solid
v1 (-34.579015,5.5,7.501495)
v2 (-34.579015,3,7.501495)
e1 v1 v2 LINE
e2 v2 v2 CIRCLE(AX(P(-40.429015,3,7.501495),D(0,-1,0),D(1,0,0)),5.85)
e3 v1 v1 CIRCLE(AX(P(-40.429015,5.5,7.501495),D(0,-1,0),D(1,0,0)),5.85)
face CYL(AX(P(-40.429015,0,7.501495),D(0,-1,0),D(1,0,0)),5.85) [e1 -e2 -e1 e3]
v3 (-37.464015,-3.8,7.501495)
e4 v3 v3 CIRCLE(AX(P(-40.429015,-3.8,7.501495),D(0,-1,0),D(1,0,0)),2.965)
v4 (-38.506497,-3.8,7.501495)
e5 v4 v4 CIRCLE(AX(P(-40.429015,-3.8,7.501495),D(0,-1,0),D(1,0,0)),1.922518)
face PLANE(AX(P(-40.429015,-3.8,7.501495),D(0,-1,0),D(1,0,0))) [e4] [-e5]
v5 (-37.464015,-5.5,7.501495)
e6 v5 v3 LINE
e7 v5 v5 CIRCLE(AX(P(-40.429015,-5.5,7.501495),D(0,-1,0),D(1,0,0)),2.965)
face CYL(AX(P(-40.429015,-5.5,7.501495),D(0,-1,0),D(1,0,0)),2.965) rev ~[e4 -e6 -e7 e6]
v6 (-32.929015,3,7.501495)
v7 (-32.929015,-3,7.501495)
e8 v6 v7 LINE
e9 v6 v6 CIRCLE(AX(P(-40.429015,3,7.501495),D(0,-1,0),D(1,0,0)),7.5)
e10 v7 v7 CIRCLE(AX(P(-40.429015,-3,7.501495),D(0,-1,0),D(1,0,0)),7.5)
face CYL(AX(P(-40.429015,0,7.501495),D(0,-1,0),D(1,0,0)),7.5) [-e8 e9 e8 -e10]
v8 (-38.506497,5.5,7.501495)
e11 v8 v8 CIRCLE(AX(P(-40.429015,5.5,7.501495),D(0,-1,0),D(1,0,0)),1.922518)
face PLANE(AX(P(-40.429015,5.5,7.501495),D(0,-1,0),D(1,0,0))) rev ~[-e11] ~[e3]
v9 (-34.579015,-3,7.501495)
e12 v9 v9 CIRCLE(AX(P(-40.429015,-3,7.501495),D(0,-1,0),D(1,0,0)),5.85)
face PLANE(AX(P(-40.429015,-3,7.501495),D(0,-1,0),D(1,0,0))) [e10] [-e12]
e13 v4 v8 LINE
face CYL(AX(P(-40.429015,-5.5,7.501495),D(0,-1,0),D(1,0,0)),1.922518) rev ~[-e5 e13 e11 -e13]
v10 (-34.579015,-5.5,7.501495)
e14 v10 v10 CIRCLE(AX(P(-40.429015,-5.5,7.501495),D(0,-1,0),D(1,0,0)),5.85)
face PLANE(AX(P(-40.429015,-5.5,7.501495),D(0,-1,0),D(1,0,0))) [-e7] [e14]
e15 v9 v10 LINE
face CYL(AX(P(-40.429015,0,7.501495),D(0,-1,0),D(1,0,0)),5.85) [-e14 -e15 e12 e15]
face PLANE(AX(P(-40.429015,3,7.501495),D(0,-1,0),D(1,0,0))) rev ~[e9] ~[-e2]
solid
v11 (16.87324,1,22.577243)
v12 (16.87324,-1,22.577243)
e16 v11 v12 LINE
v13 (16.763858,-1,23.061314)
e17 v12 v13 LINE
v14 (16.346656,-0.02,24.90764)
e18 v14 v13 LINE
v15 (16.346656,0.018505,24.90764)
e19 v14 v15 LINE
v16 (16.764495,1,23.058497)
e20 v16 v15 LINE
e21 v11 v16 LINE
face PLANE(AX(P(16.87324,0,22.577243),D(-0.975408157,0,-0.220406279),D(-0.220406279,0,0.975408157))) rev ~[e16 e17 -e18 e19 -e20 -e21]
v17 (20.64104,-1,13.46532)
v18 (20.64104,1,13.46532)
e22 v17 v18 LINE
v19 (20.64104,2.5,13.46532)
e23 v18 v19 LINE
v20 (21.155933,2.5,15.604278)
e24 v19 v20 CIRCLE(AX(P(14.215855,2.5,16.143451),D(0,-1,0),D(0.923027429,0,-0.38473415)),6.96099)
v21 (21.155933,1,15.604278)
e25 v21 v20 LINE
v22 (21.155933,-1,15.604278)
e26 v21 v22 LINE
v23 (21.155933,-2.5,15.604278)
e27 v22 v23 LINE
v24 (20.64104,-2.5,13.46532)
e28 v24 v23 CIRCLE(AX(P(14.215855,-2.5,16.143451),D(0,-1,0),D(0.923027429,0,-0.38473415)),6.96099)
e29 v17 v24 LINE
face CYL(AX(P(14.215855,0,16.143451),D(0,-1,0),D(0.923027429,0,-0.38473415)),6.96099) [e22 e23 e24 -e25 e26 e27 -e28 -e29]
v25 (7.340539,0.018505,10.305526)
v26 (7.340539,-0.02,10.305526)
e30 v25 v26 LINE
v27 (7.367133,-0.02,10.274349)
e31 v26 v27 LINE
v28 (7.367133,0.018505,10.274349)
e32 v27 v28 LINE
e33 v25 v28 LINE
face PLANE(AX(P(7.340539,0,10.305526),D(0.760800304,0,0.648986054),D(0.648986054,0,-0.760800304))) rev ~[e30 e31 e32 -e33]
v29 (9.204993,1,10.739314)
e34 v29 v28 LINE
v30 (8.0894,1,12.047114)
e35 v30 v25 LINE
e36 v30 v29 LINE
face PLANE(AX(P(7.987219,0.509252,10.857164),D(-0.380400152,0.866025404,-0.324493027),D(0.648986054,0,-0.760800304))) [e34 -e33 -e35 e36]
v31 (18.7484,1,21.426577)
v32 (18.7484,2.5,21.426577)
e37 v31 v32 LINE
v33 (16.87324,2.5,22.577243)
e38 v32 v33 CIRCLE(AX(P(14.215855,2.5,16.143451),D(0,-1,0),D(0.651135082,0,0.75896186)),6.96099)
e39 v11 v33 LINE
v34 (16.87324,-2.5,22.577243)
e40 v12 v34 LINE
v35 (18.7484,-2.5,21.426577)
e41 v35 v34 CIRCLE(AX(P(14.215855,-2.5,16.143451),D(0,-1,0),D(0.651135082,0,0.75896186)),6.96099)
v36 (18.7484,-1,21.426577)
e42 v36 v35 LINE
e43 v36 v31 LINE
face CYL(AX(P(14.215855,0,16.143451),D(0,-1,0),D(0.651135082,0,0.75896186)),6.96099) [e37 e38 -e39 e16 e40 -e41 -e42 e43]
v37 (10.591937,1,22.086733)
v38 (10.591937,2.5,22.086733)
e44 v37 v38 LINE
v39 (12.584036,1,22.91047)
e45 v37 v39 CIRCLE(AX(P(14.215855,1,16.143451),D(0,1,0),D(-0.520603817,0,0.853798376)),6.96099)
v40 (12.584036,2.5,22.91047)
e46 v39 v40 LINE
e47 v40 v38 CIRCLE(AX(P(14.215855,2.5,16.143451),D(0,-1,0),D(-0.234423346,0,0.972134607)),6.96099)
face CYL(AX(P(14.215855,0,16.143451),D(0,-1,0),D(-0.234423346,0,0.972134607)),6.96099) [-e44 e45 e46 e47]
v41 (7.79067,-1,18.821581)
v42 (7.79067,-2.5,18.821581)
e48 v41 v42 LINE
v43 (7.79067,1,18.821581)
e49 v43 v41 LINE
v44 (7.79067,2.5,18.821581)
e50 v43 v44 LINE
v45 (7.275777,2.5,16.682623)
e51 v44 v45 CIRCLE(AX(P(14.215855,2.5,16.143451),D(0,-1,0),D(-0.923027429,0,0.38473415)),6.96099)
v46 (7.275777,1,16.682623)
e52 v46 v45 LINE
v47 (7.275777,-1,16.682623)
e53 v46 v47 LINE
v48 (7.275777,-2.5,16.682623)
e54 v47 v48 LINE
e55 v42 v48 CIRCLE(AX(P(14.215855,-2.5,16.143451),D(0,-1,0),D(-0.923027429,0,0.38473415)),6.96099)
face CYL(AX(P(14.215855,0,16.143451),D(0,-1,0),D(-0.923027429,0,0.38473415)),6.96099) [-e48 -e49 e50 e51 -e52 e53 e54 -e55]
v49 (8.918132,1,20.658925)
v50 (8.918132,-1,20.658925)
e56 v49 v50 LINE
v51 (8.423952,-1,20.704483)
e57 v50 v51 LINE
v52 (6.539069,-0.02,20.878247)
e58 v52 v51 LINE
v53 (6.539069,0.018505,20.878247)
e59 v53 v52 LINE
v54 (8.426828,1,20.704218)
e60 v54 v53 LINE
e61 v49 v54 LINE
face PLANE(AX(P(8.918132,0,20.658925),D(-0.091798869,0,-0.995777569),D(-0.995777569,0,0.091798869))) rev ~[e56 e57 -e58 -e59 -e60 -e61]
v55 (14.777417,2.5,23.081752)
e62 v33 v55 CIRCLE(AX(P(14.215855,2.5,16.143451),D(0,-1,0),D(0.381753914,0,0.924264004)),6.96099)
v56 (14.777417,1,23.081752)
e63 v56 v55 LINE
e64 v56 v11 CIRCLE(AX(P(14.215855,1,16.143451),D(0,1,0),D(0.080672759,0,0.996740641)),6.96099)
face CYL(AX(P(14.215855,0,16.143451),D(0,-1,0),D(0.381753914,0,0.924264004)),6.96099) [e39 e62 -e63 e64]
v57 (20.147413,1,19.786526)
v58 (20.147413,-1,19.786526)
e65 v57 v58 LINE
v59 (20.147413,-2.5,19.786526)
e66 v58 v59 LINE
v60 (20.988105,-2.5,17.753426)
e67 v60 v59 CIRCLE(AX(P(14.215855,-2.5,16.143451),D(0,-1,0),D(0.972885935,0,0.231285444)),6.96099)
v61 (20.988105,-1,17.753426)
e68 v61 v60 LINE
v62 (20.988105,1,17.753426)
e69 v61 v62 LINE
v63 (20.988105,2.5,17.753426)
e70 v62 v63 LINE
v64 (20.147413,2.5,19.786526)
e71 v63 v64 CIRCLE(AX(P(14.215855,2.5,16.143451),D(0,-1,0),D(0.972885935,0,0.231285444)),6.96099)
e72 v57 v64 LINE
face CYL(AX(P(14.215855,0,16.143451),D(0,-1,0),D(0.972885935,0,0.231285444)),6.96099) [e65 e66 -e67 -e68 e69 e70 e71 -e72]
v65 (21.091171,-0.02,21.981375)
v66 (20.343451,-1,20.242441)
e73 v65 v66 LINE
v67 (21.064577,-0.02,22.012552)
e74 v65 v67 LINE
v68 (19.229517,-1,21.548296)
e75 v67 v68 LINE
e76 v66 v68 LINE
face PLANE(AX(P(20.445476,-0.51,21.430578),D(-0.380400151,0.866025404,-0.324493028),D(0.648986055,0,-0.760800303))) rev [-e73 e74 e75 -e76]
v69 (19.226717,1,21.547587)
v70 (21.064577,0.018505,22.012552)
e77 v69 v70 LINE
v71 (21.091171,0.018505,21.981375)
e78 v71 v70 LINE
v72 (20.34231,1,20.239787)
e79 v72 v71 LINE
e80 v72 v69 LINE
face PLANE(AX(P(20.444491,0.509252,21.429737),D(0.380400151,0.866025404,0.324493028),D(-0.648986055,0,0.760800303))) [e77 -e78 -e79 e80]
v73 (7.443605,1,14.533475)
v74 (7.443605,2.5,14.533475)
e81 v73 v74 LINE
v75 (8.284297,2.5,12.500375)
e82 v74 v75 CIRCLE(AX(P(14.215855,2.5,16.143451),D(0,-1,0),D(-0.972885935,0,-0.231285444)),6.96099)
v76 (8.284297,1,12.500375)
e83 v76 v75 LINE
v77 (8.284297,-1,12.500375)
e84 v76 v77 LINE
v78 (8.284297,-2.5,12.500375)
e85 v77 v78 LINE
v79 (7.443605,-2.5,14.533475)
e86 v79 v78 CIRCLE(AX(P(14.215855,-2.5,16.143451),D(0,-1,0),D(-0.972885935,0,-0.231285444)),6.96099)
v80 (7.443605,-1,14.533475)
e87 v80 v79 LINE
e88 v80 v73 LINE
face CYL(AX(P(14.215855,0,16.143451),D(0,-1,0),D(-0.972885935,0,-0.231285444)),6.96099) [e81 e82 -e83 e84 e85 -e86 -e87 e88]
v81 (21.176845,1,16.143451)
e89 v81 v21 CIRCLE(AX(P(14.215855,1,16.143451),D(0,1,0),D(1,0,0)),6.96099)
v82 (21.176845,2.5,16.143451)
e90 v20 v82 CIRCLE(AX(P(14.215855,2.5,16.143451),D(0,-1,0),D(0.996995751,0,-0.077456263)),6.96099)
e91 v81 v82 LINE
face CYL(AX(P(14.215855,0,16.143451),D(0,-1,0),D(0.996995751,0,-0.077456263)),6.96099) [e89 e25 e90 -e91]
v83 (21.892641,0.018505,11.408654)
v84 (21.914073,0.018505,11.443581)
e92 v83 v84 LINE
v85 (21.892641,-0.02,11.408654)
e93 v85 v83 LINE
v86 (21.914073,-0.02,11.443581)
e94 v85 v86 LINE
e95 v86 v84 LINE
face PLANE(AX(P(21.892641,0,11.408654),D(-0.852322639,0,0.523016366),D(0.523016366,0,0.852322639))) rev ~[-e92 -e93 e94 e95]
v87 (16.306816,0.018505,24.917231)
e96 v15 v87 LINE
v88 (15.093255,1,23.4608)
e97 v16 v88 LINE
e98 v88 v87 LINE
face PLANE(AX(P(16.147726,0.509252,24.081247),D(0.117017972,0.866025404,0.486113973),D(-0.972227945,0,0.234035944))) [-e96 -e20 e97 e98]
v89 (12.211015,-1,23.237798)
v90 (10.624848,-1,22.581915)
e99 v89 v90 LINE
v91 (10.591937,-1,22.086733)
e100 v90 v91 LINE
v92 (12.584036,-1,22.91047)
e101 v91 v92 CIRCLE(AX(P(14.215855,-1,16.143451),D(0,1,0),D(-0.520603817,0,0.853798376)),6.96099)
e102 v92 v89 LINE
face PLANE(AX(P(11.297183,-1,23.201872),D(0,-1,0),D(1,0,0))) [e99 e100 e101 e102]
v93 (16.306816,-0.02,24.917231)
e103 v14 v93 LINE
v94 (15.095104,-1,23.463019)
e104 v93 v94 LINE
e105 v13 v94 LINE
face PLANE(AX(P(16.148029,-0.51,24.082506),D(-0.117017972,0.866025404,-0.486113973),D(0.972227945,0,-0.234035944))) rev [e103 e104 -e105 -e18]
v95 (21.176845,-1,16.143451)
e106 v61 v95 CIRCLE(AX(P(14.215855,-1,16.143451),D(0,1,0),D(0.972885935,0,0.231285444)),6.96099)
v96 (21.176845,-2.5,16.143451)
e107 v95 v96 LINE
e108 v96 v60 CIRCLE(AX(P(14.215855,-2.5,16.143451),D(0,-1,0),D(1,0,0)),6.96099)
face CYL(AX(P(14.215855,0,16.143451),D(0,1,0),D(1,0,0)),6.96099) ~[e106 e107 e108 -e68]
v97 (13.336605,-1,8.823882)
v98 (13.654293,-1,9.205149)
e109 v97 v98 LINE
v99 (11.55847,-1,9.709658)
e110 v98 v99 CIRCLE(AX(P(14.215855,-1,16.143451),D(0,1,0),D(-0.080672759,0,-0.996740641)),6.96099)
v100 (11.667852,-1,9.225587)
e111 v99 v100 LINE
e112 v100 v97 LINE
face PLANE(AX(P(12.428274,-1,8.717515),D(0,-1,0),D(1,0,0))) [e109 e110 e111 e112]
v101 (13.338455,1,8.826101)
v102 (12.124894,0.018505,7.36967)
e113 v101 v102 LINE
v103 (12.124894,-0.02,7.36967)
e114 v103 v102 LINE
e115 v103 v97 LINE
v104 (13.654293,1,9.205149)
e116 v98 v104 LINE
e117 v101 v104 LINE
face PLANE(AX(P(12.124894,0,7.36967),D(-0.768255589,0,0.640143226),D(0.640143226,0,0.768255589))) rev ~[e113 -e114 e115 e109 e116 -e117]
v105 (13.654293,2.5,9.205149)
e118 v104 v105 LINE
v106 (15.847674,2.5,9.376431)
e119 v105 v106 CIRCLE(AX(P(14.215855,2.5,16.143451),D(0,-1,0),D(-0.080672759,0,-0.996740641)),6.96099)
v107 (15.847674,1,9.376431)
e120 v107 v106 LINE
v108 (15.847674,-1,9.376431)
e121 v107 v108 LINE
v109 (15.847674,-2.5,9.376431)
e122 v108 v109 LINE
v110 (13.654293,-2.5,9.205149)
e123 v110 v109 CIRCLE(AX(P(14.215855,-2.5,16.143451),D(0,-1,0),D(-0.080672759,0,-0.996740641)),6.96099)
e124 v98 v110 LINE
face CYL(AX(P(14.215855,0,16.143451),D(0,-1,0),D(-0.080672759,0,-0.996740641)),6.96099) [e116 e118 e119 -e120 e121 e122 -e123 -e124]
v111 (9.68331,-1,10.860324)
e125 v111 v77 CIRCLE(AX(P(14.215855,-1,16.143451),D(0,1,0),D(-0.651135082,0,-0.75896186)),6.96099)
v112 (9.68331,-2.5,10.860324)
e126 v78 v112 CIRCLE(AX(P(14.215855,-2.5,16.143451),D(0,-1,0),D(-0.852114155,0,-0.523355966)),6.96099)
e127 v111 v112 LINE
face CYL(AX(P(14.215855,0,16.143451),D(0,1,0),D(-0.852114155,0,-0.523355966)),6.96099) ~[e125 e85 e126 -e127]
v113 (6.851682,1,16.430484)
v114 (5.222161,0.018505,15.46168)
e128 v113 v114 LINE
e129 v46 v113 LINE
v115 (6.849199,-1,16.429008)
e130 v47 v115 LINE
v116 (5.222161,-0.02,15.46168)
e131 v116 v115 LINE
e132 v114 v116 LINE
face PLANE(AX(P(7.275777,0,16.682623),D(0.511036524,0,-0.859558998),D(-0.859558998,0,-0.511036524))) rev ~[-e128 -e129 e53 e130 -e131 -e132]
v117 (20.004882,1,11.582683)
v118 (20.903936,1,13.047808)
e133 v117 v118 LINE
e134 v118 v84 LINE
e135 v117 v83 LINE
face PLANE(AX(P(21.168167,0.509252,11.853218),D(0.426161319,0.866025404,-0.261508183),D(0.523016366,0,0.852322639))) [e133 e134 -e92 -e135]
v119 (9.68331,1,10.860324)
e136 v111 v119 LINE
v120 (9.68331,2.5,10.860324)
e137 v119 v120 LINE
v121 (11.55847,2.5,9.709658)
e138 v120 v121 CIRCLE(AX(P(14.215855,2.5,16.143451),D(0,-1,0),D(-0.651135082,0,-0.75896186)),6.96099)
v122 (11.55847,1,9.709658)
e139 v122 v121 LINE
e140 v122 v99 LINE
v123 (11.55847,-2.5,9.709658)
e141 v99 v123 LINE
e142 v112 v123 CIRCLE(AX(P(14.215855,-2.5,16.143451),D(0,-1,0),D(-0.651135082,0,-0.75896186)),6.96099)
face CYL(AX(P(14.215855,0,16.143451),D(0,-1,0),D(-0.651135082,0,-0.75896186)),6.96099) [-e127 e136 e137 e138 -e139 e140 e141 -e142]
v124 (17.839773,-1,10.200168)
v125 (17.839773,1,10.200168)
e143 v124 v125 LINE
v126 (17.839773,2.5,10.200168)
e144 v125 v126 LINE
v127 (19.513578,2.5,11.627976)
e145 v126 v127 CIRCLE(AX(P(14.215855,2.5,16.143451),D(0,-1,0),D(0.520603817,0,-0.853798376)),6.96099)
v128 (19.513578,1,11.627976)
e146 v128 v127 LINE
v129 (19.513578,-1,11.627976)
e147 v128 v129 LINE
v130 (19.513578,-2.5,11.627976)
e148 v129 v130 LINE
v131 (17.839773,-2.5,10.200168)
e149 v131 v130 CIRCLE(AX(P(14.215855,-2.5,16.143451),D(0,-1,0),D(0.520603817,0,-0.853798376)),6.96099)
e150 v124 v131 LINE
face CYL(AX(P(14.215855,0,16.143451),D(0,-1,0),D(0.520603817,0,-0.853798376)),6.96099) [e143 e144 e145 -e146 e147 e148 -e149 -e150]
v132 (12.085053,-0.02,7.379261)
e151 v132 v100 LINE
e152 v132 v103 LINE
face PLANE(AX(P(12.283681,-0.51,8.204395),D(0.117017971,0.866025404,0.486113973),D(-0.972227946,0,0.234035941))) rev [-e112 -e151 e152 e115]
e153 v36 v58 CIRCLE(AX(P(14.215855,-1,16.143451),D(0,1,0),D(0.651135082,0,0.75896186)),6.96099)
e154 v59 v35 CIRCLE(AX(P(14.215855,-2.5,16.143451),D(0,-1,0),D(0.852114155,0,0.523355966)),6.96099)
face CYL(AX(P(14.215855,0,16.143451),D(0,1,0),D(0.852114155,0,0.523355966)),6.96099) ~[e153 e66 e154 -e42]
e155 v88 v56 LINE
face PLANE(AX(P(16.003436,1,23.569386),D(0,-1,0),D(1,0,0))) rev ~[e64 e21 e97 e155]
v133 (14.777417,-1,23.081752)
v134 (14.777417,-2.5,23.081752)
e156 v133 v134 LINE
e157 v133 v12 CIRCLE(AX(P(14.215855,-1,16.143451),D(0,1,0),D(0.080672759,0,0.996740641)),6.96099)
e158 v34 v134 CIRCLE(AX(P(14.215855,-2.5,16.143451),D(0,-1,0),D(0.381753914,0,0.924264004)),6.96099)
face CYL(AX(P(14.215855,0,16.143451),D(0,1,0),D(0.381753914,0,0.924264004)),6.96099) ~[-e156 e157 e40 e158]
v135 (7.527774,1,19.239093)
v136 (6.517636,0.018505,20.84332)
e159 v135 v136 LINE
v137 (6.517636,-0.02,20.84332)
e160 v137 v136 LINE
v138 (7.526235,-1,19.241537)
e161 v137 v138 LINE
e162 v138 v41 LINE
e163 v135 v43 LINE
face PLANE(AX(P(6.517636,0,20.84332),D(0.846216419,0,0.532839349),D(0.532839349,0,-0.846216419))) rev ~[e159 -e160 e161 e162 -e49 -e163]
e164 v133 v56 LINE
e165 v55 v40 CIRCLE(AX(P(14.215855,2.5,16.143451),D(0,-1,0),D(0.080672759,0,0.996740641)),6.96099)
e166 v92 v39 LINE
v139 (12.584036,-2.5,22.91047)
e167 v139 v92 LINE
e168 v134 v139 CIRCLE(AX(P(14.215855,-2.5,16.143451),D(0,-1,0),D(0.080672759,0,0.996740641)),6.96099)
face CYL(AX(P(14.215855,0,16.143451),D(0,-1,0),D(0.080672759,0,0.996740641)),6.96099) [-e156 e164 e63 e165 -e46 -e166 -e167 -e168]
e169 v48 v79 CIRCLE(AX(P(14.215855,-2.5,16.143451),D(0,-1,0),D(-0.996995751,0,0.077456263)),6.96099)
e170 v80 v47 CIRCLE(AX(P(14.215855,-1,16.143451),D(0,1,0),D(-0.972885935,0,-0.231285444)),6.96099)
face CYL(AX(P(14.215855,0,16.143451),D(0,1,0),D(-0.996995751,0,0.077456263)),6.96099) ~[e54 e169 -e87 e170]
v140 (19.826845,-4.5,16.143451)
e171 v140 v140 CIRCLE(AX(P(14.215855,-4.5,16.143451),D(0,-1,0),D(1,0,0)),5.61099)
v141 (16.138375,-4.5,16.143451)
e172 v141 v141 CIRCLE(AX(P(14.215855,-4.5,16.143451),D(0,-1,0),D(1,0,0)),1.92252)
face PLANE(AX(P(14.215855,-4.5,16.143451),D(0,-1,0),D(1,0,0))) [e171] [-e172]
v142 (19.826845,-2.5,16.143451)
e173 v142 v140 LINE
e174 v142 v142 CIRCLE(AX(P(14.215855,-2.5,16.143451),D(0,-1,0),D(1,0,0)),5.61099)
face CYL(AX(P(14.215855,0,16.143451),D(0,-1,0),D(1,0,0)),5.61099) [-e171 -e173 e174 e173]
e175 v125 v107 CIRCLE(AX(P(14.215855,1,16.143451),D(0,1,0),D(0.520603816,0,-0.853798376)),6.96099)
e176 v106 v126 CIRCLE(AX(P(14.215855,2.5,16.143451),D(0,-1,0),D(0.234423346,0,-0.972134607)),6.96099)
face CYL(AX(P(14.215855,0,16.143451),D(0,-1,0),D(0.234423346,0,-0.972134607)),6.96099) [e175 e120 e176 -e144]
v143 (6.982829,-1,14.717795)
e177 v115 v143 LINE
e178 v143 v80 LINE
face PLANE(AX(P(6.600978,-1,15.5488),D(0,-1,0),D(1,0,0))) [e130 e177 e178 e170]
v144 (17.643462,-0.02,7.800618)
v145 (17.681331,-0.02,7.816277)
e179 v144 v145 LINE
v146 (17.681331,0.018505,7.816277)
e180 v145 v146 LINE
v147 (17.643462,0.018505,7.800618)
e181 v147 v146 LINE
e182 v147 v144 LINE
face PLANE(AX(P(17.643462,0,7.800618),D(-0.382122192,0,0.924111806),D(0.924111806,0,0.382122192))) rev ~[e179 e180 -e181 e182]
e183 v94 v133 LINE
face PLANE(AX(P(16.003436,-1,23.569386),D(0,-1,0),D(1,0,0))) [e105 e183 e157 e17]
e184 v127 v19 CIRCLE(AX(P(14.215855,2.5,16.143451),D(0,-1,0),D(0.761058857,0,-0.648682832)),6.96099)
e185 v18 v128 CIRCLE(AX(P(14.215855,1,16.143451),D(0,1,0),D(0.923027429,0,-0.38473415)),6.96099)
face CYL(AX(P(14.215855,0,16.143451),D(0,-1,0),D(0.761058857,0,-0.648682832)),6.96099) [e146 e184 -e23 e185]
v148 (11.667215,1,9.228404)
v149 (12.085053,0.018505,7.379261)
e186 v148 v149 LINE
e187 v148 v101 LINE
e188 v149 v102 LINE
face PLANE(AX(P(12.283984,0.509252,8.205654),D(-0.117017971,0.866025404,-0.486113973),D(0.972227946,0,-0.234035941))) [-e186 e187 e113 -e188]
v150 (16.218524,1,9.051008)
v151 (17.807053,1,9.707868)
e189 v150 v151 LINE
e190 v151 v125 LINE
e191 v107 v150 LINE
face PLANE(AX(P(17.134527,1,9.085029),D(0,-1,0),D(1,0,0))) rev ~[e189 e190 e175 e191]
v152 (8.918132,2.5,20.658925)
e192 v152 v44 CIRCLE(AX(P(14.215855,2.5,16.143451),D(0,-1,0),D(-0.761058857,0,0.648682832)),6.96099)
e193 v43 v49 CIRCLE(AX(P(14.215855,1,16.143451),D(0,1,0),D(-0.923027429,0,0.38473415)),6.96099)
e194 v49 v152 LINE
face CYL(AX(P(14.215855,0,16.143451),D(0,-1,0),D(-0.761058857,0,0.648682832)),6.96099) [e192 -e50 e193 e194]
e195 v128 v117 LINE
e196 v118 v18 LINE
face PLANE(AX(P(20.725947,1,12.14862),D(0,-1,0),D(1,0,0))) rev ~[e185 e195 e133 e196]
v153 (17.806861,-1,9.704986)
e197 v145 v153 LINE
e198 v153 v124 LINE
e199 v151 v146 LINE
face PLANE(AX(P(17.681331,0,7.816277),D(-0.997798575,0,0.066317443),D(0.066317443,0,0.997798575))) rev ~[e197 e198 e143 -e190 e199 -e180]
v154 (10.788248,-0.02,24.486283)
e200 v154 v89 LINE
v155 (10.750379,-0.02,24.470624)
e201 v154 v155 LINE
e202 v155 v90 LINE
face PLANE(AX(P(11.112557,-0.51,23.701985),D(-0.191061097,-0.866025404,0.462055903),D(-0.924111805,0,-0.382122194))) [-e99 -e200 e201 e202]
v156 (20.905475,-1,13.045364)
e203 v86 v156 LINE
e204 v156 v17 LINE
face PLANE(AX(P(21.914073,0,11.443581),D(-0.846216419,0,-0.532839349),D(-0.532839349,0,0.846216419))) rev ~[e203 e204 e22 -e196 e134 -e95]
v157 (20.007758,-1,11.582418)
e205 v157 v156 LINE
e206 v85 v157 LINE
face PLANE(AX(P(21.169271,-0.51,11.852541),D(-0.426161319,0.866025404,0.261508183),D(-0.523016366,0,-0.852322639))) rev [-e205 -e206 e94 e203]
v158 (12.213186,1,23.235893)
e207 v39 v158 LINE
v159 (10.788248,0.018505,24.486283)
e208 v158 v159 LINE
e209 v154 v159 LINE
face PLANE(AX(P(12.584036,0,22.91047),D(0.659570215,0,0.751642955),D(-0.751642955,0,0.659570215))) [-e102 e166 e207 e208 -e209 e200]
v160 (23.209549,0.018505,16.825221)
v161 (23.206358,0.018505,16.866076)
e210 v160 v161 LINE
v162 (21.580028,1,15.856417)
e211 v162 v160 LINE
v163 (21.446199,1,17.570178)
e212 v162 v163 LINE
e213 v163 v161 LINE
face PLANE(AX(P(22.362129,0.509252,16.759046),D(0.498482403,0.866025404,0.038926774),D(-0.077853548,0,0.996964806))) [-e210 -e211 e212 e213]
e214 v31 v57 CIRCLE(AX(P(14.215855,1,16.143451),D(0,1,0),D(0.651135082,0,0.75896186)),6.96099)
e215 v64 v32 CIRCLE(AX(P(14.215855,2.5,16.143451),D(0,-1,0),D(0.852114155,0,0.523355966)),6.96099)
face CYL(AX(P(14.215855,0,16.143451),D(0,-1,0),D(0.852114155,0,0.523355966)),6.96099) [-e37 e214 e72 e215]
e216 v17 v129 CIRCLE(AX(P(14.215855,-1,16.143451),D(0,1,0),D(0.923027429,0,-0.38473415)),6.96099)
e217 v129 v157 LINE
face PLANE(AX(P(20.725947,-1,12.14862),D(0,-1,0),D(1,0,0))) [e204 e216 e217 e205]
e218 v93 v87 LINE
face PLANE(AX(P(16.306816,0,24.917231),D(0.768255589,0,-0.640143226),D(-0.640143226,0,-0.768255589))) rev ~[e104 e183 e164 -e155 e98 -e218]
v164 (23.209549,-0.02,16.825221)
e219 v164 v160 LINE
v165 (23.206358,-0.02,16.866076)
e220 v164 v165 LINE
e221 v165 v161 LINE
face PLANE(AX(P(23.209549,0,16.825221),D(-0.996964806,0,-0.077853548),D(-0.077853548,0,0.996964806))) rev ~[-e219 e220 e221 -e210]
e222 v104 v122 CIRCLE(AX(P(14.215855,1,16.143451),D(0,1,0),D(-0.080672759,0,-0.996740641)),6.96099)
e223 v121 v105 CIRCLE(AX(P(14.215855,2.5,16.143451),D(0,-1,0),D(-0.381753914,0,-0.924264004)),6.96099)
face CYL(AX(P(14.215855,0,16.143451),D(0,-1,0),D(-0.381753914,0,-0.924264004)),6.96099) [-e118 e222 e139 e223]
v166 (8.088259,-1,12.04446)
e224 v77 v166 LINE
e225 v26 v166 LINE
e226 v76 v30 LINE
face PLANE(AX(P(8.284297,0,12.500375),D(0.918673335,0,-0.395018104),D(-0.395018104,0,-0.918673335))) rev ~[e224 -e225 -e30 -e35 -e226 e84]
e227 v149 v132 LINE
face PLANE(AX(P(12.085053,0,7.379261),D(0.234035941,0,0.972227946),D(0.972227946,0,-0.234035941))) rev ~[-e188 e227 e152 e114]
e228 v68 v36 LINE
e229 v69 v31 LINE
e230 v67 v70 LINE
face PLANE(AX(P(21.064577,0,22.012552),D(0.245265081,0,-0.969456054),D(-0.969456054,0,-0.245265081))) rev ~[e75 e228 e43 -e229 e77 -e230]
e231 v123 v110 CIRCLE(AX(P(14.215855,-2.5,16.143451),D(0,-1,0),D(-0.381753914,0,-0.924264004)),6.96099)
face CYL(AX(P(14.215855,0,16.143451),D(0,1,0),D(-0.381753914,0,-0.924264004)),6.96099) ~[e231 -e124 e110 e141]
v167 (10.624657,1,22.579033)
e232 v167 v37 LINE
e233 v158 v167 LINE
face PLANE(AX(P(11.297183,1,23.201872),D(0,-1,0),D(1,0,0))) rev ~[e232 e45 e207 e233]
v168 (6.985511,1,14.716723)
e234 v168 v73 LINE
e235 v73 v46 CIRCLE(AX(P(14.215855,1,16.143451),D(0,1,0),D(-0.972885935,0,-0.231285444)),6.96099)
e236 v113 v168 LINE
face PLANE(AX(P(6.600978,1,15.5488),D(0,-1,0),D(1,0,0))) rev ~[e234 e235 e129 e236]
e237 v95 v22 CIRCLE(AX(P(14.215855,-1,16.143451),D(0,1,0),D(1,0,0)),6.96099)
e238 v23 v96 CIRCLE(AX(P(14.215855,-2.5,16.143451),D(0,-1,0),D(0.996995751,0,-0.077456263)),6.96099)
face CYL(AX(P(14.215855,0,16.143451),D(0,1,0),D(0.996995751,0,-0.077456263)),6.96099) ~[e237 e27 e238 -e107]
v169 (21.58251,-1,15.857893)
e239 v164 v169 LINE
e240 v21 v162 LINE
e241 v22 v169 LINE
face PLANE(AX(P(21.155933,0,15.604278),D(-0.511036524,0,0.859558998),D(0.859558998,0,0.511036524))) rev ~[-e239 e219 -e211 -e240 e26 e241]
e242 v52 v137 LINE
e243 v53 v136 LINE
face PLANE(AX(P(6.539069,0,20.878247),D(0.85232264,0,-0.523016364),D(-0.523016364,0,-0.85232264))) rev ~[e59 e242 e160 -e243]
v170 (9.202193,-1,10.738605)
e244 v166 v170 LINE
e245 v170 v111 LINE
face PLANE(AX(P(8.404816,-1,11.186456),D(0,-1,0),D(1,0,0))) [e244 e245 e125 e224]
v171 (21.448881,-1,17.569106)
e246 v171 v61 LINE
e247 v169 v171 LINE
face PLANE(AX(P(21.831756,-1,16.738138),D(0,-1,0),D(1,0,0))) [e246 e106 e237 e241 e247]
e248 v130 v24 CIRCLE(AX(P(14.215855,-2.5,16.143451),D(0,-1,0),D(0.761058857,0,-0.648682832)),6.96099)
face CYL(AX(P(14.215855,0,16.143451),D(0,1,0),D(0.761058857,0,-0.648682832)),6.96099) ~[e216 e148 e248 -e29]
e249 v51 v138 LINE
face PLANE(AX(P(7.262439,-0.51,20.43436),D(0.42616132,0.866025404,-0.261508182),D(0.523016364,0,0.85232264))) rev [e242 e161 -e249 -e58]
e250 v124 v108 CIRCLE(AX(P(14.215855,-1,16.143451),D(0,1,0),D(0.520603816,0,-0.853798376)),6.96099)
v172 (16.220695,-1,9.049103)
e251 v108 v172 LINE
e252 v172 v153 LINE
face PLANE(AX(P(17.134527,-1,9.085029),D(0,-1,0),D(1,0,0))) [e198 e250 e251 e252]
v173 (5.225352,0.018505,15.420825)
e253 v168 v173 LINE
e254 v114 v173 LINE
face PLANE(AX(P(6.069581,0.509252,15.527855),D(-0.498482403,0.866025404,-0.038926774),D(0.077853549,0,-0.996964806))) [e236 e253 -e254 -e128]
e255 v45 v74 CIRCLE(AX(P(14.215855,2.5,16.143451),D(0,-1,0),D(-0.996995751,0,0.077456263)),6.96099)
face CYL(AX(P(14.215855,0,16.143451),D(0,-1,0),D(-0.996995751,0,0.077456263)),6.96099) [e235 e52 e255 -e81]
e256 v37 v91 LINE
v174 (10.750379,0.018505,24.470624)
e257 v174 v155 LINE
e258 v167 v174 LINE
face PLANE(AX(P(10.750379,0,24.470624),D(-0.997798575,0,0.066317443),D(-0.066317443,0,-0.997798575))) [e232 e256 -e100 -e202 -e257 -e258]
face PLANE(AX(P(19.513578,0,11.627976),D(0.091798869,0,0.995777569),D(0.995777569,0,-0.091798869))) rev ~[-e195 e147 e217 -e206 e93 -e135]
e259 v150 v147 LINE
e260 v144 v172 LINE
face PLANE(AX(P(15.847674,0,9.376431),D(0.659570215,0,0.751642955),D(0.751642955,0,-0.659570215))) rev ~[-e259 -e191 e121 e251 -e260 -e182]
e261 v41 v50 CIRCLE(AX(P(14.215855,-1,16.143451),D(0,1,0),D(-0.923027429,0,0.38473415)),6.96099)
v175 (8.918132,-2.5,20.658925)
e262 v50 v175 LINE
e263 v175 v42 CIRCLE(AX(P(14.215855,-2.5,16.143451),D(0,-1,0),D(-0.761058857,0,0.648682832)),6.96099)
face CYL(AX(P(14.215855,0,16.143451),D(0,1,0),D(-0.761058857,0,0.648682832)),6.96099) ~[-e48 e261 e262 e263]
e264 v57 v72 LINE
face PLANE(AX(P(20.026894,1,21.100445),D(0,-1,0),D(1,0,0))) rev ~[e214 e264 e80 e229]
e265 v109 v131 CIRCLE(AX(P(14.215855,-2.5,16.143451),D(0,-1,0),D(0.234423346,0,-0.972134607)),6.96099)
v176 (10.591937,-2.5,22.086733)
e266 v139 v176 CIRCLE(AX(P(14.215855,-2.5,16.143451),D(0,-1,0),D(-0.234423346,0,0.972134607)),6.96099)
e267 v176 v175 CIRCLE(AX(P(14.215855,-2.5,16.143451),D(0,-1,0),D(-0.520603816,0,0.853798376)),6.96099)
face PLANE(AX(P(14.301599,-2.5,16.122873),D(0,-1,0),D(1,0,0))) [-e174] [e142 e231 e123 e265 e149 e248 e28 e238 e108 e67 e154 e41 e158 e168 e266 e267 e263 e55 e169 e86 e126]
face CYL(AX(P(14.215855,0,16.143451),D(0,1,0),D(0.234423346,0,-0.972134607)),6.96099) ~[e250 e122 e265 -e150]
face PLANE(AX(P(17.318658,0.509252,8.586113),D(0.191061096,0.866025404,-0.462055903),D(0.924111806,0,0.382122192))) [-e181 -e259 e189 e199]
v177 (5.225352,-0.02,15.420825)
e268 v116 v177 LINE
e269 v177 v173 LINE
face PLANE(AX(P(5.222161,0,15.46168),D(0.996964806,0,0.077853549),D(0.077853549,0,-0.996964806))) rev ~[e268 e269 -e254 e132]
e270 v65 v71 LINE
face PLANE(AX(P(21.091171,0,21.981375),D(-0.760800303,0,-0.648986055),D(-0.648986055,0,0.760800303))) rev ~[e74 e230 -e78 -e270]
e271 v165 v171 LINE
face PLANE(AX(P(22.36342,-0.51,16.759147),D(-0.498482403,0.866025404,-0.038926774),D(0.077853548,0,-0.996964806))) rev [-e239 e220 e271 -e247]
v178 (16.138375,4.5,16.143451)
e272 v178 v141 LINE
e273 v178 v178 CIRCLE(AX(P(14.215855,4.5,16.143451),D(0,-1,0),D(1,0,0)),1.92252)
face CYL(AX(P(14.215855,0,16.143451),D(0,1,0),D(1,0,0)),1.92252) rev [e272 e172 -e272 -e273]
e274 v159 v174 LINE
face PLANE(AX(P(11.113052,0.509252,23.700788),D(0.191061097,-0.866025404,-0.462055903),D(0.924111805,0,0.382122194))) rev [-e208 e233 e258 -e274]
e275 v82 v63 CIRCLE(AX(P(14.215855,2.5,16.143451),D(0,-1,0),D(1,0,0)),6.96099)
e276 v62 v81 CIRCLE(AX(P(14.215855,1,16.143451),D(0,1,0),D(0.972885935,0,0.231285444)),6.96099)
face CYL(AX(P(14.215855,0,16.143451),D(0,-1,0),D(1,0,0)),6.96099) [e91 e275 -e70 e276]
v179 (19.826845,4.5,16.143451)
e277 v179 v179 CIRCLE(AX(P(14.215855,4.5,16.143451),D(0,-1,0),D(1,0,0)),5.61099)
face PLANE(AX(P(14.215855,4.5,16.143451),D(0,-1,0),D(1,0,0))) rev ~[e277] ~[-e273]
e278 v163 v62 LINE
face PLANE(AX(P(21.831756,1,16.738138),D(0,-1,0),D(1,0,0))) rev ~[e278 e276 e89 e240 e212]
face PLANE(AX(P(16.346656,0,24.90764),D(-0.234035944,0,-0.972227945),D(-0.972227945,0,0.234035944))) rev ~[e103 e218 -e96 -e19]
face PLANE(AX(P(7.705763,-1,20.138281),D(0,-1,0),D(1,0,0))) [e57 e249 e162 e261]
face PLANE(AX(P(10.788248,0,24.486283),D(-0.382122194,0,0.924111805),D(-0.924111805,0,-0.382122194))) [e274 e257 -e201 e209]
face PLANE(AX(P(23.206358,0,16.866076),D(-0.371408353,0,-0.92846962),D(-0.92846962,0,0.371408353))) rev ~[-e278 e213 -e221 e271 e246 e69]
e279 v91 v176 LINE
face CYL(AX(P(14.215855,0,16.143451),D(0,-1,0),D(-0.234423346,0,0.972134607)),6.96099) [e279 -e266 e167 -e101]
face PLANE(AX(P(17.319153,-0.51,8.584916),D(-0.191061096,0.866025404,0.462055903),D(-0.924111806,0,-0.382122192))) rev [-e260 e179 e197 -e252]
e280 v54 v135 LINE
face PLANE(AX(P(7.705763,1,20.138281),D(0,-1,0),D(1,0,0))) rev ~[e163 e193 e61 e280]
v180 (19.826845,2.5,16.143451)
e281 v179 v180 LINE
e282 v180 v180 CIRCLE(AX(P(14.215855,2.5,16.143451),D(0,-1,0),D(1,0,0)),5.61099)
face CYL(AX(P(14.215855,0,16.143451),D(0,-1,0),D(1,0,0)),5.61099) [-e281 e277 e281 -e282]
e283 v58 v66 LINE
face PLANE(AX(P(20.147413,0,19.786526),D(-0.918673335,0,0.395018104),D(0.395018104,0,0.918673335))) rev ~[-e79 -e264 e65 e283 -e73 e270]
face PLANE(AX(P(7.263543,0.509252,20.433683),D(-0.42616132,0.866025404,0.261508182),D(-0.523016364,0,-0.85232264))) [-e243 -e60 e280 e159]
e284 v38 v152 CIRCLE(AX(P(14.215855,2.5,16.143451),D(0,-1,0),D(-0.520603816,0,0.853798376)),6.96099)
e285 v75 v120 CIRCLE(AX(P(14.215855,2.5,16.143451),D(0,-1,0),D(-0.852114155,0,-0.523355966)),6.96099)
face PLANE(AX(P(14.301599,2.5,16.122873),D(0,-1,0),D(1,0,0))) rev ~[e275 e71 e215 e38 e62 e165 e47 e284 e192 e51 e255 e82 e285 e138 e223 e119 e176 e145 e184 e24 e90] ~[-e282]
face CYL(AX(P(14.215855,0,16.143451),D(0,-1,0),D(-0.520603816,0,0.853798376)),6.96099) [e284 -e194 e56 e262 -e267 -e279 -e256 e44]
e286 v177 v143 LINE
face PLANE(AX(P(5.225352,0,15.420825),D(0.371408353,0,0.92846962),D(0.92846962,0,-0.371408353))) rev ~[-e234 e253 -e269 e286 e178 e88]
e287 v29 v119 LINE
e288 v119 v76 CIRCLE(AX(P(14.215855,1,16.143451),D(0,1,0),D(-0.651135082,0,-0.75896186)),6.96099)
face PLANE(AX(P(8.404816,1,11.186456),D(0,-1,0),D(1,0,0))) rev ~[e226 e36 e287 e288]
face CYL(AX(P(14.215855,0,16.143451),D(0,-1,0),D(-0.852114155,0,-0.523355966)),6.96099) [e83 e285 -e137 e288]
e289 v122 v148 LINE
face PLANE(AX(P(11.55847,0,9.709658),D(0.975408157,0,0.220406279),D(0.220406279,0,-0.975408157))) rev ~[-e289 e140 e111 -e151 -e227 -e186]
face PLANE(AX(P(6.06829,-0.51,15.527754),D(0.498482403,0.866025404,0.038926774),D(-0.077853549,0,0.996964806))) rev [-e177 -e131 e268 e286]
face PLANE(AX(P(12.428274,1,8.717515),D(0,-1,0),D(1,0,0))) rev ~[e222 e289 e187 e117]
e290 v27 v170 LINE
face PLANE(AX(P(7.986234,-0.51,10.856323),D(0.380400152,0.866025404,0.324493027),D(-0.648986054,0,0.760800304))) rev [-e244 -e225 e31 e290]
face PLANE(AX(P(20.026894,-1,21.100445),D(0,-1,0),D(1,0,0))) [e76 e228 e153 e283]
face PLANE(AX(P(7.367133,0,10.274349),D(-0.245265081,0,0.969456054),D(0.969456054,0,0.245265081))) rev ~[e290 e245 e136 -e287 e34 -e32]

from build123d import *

# Parameters (mm, degrees)
F0_R         = 5.85
F1_DEPTH     = 5.5
F0_R_2       = 7.5
F2_DEPTH     = 3
F3_R         = 1.9225179896
F4_DEPTH     = 25
F3_R_2       = 2.965
F5_DEPTH     = 1.7
F6_R         = 5.61099
F6_R_2       = 1.92252
F7_DEPTH     = 2.5
F8_DEPTH     = 1
F9_DEPTH     = 4.5
F10_SIZE2    = 1.6974097914
F10_SIZE     = 0.98
F10_2_SIZE2  = 1.6974097914
F10_2_SIZE   = 0.98
F10_3_SIZE2  = 1.6974097914
F10_3_SIZE   = 0.98
F10_4_SIZE2  = 1.6974097914
F10_4_SIZE   = 0.98
F10_5_SIZE2  = 1.6974097914
F10_5_SIZE   = 0.98
F10_6_SIZE2  = 1.6974097914
F10_6_SIZE   = 0.98
F10_7_SIZE2  = 1.6974097914
F10_7_SIZE   = 0.98
F10_8_SIZE2  = 1.6974097914
F10_8_SIZE   = 0.98
F10_9_SIZE2  = 1.6974097914
F10_9_SIZE   = 0.98
F10_10_SIZE2 = 1.6974097914
F10_10_SIZE  = 0.98
F11_SIZE2    = 0.9814954576
F11_SIZE     = 1.7
F11_2_SIZE2  = 0.9814954576
F11_2_SIZE   = 1.7
F11_3_SIZE2  = 0.9814954576
F11_3_SIZE   = 1.7
F11_4_SIZE2  = 0.9814954576
F11_4_SIZE   = 1.7
F11_5_SIZE2  = 0.9814954576
F11_5_SIZE   = 1.7
F11_6_SIZE2  = 0.9814954576
F11_6_SIZE   = 1.7
F11_7_SIZE2  = 0.9814954576
F11_7_SIZE   = 1.7
F11_8_SIZE2  = 0.9814954576
F11_8_SIZE   = 1.7
F11_9_SIZE2  = 0.9814954576
F11_9_SIZE   = 1.7
F11_10_SIZE2 = 0.9814954576
F11_10_SIZE  = 1.7


with BuildPart() as f1:
    # F0 (on Front) → F1 (new body, symmetric)
    with BuildSketch(Plane.XZ):
        with Locations((-40.4290147126, 7.5014946051)):
            Circle(F0_R)
    extrude(amount=F1_DEPTH, both=True)

    # F0 (on Front) → F2 (join, symmetric)
    with BuildSketch(Plane.XZ):
        with Locations((-40.4290147126, 7.5014946051)):
            Circle(F0_R_2)
        with Locations((-40.4290147126, 7.5014946051)):
            Circle(F0_R, mode=Mode.SUBTRACT)
    extrude(amount=F2_DEPTH, both=True)

    # F3 (on face) → F4 (cut)
    with BuildSketch(Plane.XZ.offset(5.5)):
        with Locations((-40.4290147126, 7.5014946051)):
            Circle(F3_R)
    extrude(amount=-F4_DEPTH, mode=Mode.SUBTRACT)

    # F3 (on face) → F5 (cut)
    with BuildSketch(Plane.XZ.offset(5.5)):
        with Locations((-40.4290147126, 7.5014946051)):
            Circle(F3_R_2)
        with Locations((-40.4290147126, 7.5014946051)):
            Circle(F3_R, mode=Mode.SUBTRACT)
    extrude(amount=-F5_DEPTH, mode=Mode.SUBTRACT)


with BuildPart() as f7:
    # F6 (on Front) → F7 (new body, symmetric)
    with BuildSketch(Plane.XZ):
        with BuildLine():
            ThreePointArc((12.5840362785, 22.9104701209), (11.5559060371, 22.5761838649), (10.5919367916, 22.0867327559))
            Line((10.5919367916, 22.0867327559), (10.4874240314, 20.5142553084))
            Line((10.4874240314, 20.5142553084), (8.9181315816, 20.6589254406))
            ThreePointArc((8.9181315816, 20.6589254406), (8.2828452752, 19.7841623852), (7.7906699171, 18.821581214))
            ThreePointArc((7.7906699171, 18.821581214), (7.4481855965, 17.7725724525), (7.27577714, 16.6826228135))
            ThreePointArc((7.27577714, 16.6826228135), (7.275992545, 15.6015127137), (7.4436053327, 14.5334747707))
            Line((7.4436053327, 14.5334747707), (8.9068240369, 13.9481549745))
            Line((8.9068240369, 13.9481549745), (8.2842965288, 12.5003746936))
            ThreePointArc((8.2842965288, 12.5003746936), (8.9199313679, 11.625864862), (9.6833099134, 10.8603243402))
            Line((9.6833099134, 10.8603243402), (11.2111210556, 11.2468490531))
            Line((11.2111210556, 11.2468490531), (11.5584696198, 9.7096577133))
            ThreePointArc((11.5584696198, 9.7096577133), (12.5867329888, 9.3757811821), (13.654292634, 9.205148541))
            Line((13.654292634, 9.205148541), (14.6631242865, 10.4158784601))
            Line((14.6631242865, 10.4158784601), (15.8476735773, 9.3764309061))
            ThreePointArc((15.8476735773, 9.3764309061), (16.8758038187, 9.7107171621), (17.8397730642, 10.200168271))
            Line((17.8397730642, 10.200168271), (17.9442858244, 11.7726457186))
            Line((17.9442858244, 11.7726457186), (19.5135782742, 11.6279755863))
            ThreePointArc((19.5135782742, 11.6279755863), (20.1488645806, 12.5027386418), (20.6410399387, 13.465319813))
            Line((20.6410399387, 13.465319813), (19.8013134846, 14.7989118505))
            Line((19.8013134846, 14.7989118505), (21.1559327158, 15.6042782134))
            ThreePointArc((21.1559327158, 15.6042782134), (21.1716151628, 15.8736616591), (21.1768452649, 16.1434505135))
            ThreePointArc((21.1768452649, 16.1434505135), (21.1294990634, 16.9539511242), (20.9881045231, 17.7534262562))
            Line((20.9881045231, 17.7534262562), (19.5248858189, 18.3387460525))
            Line((19.5248858189, 18.3387460525), (20.147413327, 19.7865263334))
            ThreePointArc((20.147413327, 19.7865263334), (19.5117784879, 20.661036165), (18.7483999424, 21.4265766868))
            Line((18.7483999424, 21.4265766868), (17.2205888002, 21.0400519739))
            Line((17.2205888002, 21.0400519739), (16.873240236, 22.5772433137))
            ThreePointArc((16.873240236, 22.5772433137), (15.8449768669, 22.9111198449), (14.7774172217, 23.081752486))
            Line((14.7774172217, 23.081752486), (13.7685855693, 21.8710225668))
            Line((13.7685855693, 21.8710225668), (12.5840362785, 22.9104701209))
        make_face()
        with Locations((14.2158549279, 16.1434505135)):
            Circle(F6_R, mode=Mode.SUBTRACT)
        with Locations((14.2158549279, 16.1434505135)):
            Circle(F6_R)
        with Locations((14.2158549279, 16.1434505135)):
            Circle(F6_R_2, mode=Mode.SUBTRACT)
        with BuildLine():
            Line((8.9068240369, 13.9481549745), (7.4436053327, 14.5334747707))
            ThreePointArc((7.4436053327, 14.5334747707), (7.7831215765, 13.4835016227), (8.2842965288, 12.5003746936))
            Line((8.2842965288, 12.5003746936), (8.9068240369, 13.9481549745))
        make_face()
        with BuildLine():
            Line((10.4874240314, 20.5142553084), (10.5919367916, 22.0867327559))
            ThreePointArc((10.5919367916, 22.0867327559), (9.6982692764, 21.4393740735), (8.9181315816, 20.6589254406))
            Line((8.9181315816, 20.6589254406), (10.4874240314, 20.5142553084))
        make_face()
        with BuildLine():
            ThreePointArc((14.7774172217, 23.081752486), (13.6739171282, 23.0833128963), (12.5840362785, 22.9104701209))
            Line((12.5840362785, 22.9104701209), (13.7685855693, 21.8710225668))
            Line((13.7685855693, 21.8710225668), (14.7774172217, 23.081752486))
        make_face()
        with BuildLine():
            ThreePointArc((18.7483999424, 21.4265766868), (17.8565667996, 22.0764601662), (16.873240236, 22.5772433137))
            Line((16.873240236, 22.5772433137), (17.2205888002, 21.0400519739))
            Line((17.2205888002, 21.0400519739), (18.7483999424, 21.4265766868))
        make_face()
        with BuildLine():
            ThreePointArc((20.9881045231, 17.7534262562), (20.6485882793, 18.8033994043), (20.147413327, 19.7865263334))
            Line((20.147413327, 19.7865263334), (19.5248858189, 18.3387460525))
            Line((19.5248858189, 18.3387460525), (20.9881045231, 17.7534262562))
        make_face()
        with BuildLine():
            ThreePointArc((20.6410399387, 13.465319813), (20.9835242593, 14.5143285744), (21.1559327158, 15.6042782134))
            Line((21.1559327158, 15.6042782134), (19.8013134846, 14.7989118505))
            Line((19.8013134846, 14.7989118505), (20.6410399387, 13.465319813))
        make_face()
        with BuildLine():
            ThreePointArc((17.8397730642, 10.200168271), (18.7334405794, 10.8475269535), (19.5135782742, 11.6279755863))
            Line((19.5135782742, 11.6279755863), (17.9442858244, 11.7726457186))
            Line((17.9442858244, 11.7726457186), (17.8397730642, 10.200168271))
        make_face()
        with BuildLine():
            Line((14.6631242865, 10.4158784601), (13.654292634, 9.205148541))
            ThreePointArc((13.654292634, 9.205148541), (14.7577927276, 9.2035881306), (15.8476735773, 9.3764309061))
            Line((15.8476735773, 9.3764309061), (14.6631242865, 10.4158784601))
        make_face()
        with BuildLine():
            Line((11.2111210556, 11.2468490531), (9.6833099134, 10.8603243402))
            ThreePointArc((9.6833099134, 10.8603243402), (10.5751430562, 10.2104408608), (11.5584696198, 9.7096577133))
            Line((11.5584696198, 9.7096577133), (11.2111210556, 11.2468490531))
        make_face()
    extrude(amount=F7_DEPTH, both=True)

    # F6 (on Front) → F8 (join, symmetric)
    with BuildSketch(Plane.XZ):
        with BuildLine():
            ThreePointArc((7.4436053327, 14.5334747707), (7.275992545, 15.6015127137), (7.27577714, 16.6826228135))
            Line((7.27577714, 16.6826228135), (5.2221611807, 15.4616795566))
            Line((5.2221611807, 15.4616795566), (5.2253515138, 15.4208252875))
            Line((5.2253515138, 15.4208252875), (7.4436053327, 14.5334747707))
        make_face()
        with BuildLine():
            ThreePointArc((7.7906699171, 18.821581214), (8.2828452752, 19.7841623852), (8.9181315816, 20.6589254406))
            Line((8.9181315816, 20.6589254406), (6.5390689303, 20.8782467714))
            Line((6.5390689303, 20.8782467714), (6.5176364272, 20.8433197426))
            Line((6.5176364272, 20.8433197426), (7.7906699171, 18.821581214))
        make_face()
        with BuildLine():
            ThreePointArc((9.6833099134, 10.8603243402), (8.9199313679, 11.625864862), (8.2842965288, 12.5003746936))
            Line((8.2842965288, 12.5003746936), (7.3405387581, 10.3055256749))
            Line((7.3405387581, 10.3055256749), (7.3671333287, 10.2743491076))
            Line((7.3671333287, 10.2743491076), (9.6833099134, 10.8603243402))
        make_face()
        with BuildLine():
            ThreePointArc((13.654292634, 9.205148541), (12.5867329888, 9.3757811821), (11.5584696198, 9.7096577133))
            Line((11.5584696198, 9.7096577133), (12.0850534289, 7.3792606577))
            Line((12.0850534289, 7.3792606577), (12.124894015, 7.3696701814))
            Line((12.124894015, 7.3696701814), (13.654292634, 9.205148541))
        make_face()
        with BuildLine():
            ThreePointArc((17.8397730642, 10.200168271), (16.8758038187, 9.7107171621), (15.8476735773, 9.3764309061))
            Line((15.8476735773, 9.3764309061), (17.6434618491, 7.8006182816))
            Line((17.6434618491, 7.8006182816), (17.6813307008, 7.8162771321))
            Line((17.6813307008, 7.8162771321), (17.8397730642, 10.200168271))
        make_face()
        with BuildLine():
            Line((21.9140734286, 11.4435812844), (20.6410399387, 13.465319813))
            ThreePointArc((20.6410399387, 13.465319813), (20.1488645806, 12.5027386418), (19.5135782742, 11.6279755863))
            Line((19.5135782742, 11.6279755863), (21.8926409254, 11.4086542556))
            Line((21.8926409254, 11.4086542556), (21.9140734286, 11.4435812844))
        make_face()
        with BuildLine():
            Line((23.206358342, 16.8660757395), (20.9881045231, 17.7534262562))
            ThreePointArc((20.9881045231, 17.7534262562), (21.1294990634, 16.9539511242), (21.1768452649, 16.1434505135))
            ThreePointArc((21.1768452649, 16.1434505135), (21.1716151628, 15.8736616591), (21.1559327158, 15.6042782134))
            Line((21.1559327158, 15.6042782134), (23.2095486751, 16.8252214703))
            Line((23.2095486751, 16.8252214703), (23.206358342, 16.8660757395))
        make_face()
        with BuildLine():
            Line((21.0645765271, 22.0125519193), (18.7483999424, 21.4265766868))
            ThreePointArc((18.7483999424, 21.4265766868), (19.5117784879, 20.661036165), (20.147413327, 19.7865263334))
            Line((20.147413327, 19.7865263334), (21.0911710977, 21.9813753521))
            Line((21.0911710977, 21.9813753521), (21.0645765271, 22.0125519193))
        make_face()
        with BuildLine():
            Line((16.3068158408, 24.9172308456), (14.7774172217, 23.081752486))
            ThreePointArc((14.7774172217, 23.081752486), (15.8449768669, 22.9111198449), (16.873240236, 22.5772433137))
            Line((16.873240236, 22.5772433137), (16.3466564269, 24.9076403692))
            Line((16.3466564269, 24.9076403692), (16.3068158408, 24.9172308456))
        make_face()
        with BuildLine():
            Line((10.7882480067, 24.4862827454), (10.750379155, 24.4706238948))
            Line((10.750379155, 24.4706238948), (10.5919367916, 22.0867327559))
            ThreePointArc((10.5919367916, 22.0867327559), (11.5559060371, 22.5761838649), (12.5840362785, 22.9104701209))
            Line((12.5840362785, 22.9104701209), (10.7882480067, 24.4862827454))
        make_face()
    extrude(amount=F8_DEPTH, both=True)

    # F6 (on Front) → F9 (join, symmetric)
    with BuildSketch(Plane.XZ):
        with Locations((14.2158549279, 16.1434505135)):
            Circle(F6_R)
        with Locations((14.2158549279, 16.1434505135)):
            Circle(F6_R_2, mode=Mode.SUBTRACT)
    extrude(amount=F9_DEPTH, both=True)

    # F10
    f10_edges = [f7.edges().sort_by_distance(p)[0] for p in [
        (21.903357, -1, 11.426118),
    ]]
    f10_side = f7.faces().sort_by_distance((21.903357, 0, 11.426118))[0]
    chamfer(f10_edges, length=F10_SIZE, length2=F10_SIZE2, reference=f10_side)

    # F10#2
    f10_2_edges = [f7.edges().sort_by_distance(p)[0] for p in [
        (17.662396, -1, 7.808448),
    ]]
    f10_2_side = f7.faces().sort_by_distance((17.662396, 0, 7.808448))[0]
    chamfer(f10_2_edges, length=F10_2_SIZE, length2=F10_2_SIZE2, reference=f10_2_side)

    # F10#3
    f10_3_edges = [f7.edges().sort_by_distance(p)[0] for p in [
        (12.104974, -1, 7.374465),
    ]]
    f10_3_side = f7.faces().sort_by_distance((12.104974, 0, 7.374465))[0]
    chamfer(f10_3_edges, length=F10_3_SIZE, length2=F10_3_SIZE2, reference=f10_3_side)

    # F10#4
    f10_4_edges = [f7.edges().sort_by_distance(p)[0] for p in [
        (7.353836, -1, 10.289937),
    ]]
    f10_4_side = f7.faces().sort_by_distance((7.353836, 0, 10.289937))[0]
    chamfer(f10_4_edges, length=F10_4_SIZE, length2=F10_4_SIZE2, reference=f10_4_side)

    # F10#5
    f10_5_edges = [f7.edges().sort_by_distance(p)[0] for p in [
        (5.223756, -1, 15.441252),
    ]]
    f10_5_side = f7.faces().sort_by_distance((5.223756, 0, 15.441252))[0]
    chamfer(f10_5_edges, length=F10_5_SIZE, length2=F10_5_SIZE2, reference=f10_5_side)

    # F10#6
    f10_6_edges = [f7.edges().sort_by_distance(p)[0] for p in [
        (6.528353, -1, 20.860783),
    ]]
    f10_6_side = f7.faces().sort_by_distance((6.528353, 0, 20.860783))[0]
    chamfer(f10_6_edges, length=F10_6_SIZE, length2=F10_6_SIZE2, reference=f10_6_side)

    # F10#7
    f10_7_edges = [f7.edges().sort_by_distance(p)[0] for p in [
        (10.769314, -1, 24.478453),
    ]]
    f10_7_side = f7.faces().sort_by_distance((10.769314, 0, 24.478453))[0]
    chamfer(f10_7_edges, length=F10_7_SIZE, length2=F10_7_SIZE2, reference=f10_7_side)

    # F10#8
    f10_8_edges = [f7.edges().sort_by_distance(p)[0] for p in [
        (16.326736, -1, 24.912436),
    ]]
    f10_8_side = f7.faces().sort_by_distance((16.326736, 0, 24.912436))[0]
    chamfer(f10_8_edges, length=F10_8_SIZE, length2=F10_8_SIZE2, reference=f10_8_side)

    # F10#9
    f10_9_edges = [f7.edges().sort_by_distance(p)[0] for p in [
        (21.077874, -1, 21.996964),
    ]]
    f10_9_side = f7.faces().sort_by_distance((21.077874, 0, 21.996964))[0]
    chamfer(f10_9_edges, length=F10_9_SIZE, length2=F10_9_SIZE2, reference=f10_9_side)

    # F10#10
    f10_10_edges = [f7.edges().sort_by_distance(p)[0] for p in [
        (23.207954, -1, 16.845649),
    ]]
    f10_10_side = f7.faces().sort_by_distance((23.207954, 0, 16.845649))[0]
    chamfer(f10_10_edges, length=F10_10_SIZE, length2=F10_10_SIZE2, reference=f10_10_side)

    # F11
    f11_edges = [f7.edges().sort_by_distance(p)[0] for p in [
        (21.903357, 1, 11.426118),
    ]]
    f11_side = f7.faces().sort_by_distance((20.729349, 1, 12.146532))[0]
    chamfer(f11_edges, length=F11_SIZE, length2=F11_SIZE2, reference=f11_side)

    # F11#2
    f11_2_edges = [f7.edges().sort_by_distance(p)[0] for p in [
        (23.207954, 1, 16.845649),
    ]]
    f11_2_side = f7.faces().sort_by_distance((21.834712, 1, 16.738411))[0]
    chamfer(f11_2_edges, length=F11_2_SIZE, length2=F11_2_SIZE2, reference=f11_2_side)

    # F11#3
    f11_3_edges = [f7.edges().sort_by_distance(p)[0] for p in [
        (21.077874, 1, 21.996964),
    ]]
    f11_3_side = f7.faces().sort_by_distance((20.029931, 1, 21.103036))[0]
    chamfer(f11_3_edges, length=F11_3_SIZE, length2=F11_3_SIZE2, reference=f11_3_side)

    # F11#4
    f11_4_edges = [f7.edges().sort_by_distance(p)[0] for p in [
        (16.326736, 1, 24.912436),
    ]]
    f11_4_side = f7.faces().sort_by_distance((16.00437, 1, 23.573268))[0]
    chamfer(f11_4_edges, length=F11_4_SIZE, length2=F11_4_SIZE2, reference=f11_4_side)

    # F11#5
    f11_5_edges = [f7.edges().sort_by_distance(p)[0] for p in [
        (10.769314, 1, 24.478453),
    ]]
    f11_5_side = f7.faces().sort_by_distance((11.295657, 1, 23.205562))[0]
    chamfer(f11_5_edges, length=F11_5_SIZE, length2=F11_5_SIZE2, reference=f11_5_side)

    # F11#6
    f11_6_edges = [f7.edges().sort_by_distance(p)[0] for p in [
        (6.528353, 1, 20.860783),
    ]]
    f11_6_side = f7.faces().sort_by_distance((7.70236, 1, 20.140369))[0]
    chamfer(f11_6_edges, length=F11_6_SIZE, length2=F11_6_SIZE2, reference=f11_6_side)

    # F11#7
    f11_7_edges = [f7.edges().sort_by_distance(p)[0] for p in [
        (5.223756, 1, 15.441252),
    ]]
    f11_7_side = f7.faces().sort_by_distance((6.596997, 1, 15.54849))[0]
    chamfer(f11_7_edges, length=F11_7_SIZE, length2=F11_7_SIZE2, reference=f11_7_side)

    # F11#8
    f11_8_edges = [f7.edges().sort_by_distance(p)[0] for p in [
        (7.353836, 1, 10.289937),
    ]]
    f11_8_side = f7.faces().sort_by_distance((8.401779, 1, 11.183865))[0]
    chamfer(f11_8_edges, length=F11_8_SIZE, length2=F11_8_SIZE2, reference=f11_8_side)

    # F11#9
    f11_9_edges = [f7.edges().sort_by_distance(p)[0] for p in [
        (12.104974, 1, 7.374465),
    ]]
    f11_9_side = f7.faces().sort_by_distance((12.42734, 1, 8.713633))[0]
    chamfer(f11_9_edges, length=F11_9_SIZE, length2=F11_9_SIZE2, reference=f11_9_side)

    # F11#10
    f11_10_edges = [f7.edges().sort_by_distance(p)[0] for p in [
        (17.662396, 1, 7.808448),
    ]]
    f11_10_side = f7.faces().sort_by_distance((17.136053, 1, 9.081339))[0]
    chamfer(f11_10_edges, length=F11_10_SIZE, length2=F11_10_SIZE2, reference=f11_10_side)


solid = Compound([f1.part, f7.part])
